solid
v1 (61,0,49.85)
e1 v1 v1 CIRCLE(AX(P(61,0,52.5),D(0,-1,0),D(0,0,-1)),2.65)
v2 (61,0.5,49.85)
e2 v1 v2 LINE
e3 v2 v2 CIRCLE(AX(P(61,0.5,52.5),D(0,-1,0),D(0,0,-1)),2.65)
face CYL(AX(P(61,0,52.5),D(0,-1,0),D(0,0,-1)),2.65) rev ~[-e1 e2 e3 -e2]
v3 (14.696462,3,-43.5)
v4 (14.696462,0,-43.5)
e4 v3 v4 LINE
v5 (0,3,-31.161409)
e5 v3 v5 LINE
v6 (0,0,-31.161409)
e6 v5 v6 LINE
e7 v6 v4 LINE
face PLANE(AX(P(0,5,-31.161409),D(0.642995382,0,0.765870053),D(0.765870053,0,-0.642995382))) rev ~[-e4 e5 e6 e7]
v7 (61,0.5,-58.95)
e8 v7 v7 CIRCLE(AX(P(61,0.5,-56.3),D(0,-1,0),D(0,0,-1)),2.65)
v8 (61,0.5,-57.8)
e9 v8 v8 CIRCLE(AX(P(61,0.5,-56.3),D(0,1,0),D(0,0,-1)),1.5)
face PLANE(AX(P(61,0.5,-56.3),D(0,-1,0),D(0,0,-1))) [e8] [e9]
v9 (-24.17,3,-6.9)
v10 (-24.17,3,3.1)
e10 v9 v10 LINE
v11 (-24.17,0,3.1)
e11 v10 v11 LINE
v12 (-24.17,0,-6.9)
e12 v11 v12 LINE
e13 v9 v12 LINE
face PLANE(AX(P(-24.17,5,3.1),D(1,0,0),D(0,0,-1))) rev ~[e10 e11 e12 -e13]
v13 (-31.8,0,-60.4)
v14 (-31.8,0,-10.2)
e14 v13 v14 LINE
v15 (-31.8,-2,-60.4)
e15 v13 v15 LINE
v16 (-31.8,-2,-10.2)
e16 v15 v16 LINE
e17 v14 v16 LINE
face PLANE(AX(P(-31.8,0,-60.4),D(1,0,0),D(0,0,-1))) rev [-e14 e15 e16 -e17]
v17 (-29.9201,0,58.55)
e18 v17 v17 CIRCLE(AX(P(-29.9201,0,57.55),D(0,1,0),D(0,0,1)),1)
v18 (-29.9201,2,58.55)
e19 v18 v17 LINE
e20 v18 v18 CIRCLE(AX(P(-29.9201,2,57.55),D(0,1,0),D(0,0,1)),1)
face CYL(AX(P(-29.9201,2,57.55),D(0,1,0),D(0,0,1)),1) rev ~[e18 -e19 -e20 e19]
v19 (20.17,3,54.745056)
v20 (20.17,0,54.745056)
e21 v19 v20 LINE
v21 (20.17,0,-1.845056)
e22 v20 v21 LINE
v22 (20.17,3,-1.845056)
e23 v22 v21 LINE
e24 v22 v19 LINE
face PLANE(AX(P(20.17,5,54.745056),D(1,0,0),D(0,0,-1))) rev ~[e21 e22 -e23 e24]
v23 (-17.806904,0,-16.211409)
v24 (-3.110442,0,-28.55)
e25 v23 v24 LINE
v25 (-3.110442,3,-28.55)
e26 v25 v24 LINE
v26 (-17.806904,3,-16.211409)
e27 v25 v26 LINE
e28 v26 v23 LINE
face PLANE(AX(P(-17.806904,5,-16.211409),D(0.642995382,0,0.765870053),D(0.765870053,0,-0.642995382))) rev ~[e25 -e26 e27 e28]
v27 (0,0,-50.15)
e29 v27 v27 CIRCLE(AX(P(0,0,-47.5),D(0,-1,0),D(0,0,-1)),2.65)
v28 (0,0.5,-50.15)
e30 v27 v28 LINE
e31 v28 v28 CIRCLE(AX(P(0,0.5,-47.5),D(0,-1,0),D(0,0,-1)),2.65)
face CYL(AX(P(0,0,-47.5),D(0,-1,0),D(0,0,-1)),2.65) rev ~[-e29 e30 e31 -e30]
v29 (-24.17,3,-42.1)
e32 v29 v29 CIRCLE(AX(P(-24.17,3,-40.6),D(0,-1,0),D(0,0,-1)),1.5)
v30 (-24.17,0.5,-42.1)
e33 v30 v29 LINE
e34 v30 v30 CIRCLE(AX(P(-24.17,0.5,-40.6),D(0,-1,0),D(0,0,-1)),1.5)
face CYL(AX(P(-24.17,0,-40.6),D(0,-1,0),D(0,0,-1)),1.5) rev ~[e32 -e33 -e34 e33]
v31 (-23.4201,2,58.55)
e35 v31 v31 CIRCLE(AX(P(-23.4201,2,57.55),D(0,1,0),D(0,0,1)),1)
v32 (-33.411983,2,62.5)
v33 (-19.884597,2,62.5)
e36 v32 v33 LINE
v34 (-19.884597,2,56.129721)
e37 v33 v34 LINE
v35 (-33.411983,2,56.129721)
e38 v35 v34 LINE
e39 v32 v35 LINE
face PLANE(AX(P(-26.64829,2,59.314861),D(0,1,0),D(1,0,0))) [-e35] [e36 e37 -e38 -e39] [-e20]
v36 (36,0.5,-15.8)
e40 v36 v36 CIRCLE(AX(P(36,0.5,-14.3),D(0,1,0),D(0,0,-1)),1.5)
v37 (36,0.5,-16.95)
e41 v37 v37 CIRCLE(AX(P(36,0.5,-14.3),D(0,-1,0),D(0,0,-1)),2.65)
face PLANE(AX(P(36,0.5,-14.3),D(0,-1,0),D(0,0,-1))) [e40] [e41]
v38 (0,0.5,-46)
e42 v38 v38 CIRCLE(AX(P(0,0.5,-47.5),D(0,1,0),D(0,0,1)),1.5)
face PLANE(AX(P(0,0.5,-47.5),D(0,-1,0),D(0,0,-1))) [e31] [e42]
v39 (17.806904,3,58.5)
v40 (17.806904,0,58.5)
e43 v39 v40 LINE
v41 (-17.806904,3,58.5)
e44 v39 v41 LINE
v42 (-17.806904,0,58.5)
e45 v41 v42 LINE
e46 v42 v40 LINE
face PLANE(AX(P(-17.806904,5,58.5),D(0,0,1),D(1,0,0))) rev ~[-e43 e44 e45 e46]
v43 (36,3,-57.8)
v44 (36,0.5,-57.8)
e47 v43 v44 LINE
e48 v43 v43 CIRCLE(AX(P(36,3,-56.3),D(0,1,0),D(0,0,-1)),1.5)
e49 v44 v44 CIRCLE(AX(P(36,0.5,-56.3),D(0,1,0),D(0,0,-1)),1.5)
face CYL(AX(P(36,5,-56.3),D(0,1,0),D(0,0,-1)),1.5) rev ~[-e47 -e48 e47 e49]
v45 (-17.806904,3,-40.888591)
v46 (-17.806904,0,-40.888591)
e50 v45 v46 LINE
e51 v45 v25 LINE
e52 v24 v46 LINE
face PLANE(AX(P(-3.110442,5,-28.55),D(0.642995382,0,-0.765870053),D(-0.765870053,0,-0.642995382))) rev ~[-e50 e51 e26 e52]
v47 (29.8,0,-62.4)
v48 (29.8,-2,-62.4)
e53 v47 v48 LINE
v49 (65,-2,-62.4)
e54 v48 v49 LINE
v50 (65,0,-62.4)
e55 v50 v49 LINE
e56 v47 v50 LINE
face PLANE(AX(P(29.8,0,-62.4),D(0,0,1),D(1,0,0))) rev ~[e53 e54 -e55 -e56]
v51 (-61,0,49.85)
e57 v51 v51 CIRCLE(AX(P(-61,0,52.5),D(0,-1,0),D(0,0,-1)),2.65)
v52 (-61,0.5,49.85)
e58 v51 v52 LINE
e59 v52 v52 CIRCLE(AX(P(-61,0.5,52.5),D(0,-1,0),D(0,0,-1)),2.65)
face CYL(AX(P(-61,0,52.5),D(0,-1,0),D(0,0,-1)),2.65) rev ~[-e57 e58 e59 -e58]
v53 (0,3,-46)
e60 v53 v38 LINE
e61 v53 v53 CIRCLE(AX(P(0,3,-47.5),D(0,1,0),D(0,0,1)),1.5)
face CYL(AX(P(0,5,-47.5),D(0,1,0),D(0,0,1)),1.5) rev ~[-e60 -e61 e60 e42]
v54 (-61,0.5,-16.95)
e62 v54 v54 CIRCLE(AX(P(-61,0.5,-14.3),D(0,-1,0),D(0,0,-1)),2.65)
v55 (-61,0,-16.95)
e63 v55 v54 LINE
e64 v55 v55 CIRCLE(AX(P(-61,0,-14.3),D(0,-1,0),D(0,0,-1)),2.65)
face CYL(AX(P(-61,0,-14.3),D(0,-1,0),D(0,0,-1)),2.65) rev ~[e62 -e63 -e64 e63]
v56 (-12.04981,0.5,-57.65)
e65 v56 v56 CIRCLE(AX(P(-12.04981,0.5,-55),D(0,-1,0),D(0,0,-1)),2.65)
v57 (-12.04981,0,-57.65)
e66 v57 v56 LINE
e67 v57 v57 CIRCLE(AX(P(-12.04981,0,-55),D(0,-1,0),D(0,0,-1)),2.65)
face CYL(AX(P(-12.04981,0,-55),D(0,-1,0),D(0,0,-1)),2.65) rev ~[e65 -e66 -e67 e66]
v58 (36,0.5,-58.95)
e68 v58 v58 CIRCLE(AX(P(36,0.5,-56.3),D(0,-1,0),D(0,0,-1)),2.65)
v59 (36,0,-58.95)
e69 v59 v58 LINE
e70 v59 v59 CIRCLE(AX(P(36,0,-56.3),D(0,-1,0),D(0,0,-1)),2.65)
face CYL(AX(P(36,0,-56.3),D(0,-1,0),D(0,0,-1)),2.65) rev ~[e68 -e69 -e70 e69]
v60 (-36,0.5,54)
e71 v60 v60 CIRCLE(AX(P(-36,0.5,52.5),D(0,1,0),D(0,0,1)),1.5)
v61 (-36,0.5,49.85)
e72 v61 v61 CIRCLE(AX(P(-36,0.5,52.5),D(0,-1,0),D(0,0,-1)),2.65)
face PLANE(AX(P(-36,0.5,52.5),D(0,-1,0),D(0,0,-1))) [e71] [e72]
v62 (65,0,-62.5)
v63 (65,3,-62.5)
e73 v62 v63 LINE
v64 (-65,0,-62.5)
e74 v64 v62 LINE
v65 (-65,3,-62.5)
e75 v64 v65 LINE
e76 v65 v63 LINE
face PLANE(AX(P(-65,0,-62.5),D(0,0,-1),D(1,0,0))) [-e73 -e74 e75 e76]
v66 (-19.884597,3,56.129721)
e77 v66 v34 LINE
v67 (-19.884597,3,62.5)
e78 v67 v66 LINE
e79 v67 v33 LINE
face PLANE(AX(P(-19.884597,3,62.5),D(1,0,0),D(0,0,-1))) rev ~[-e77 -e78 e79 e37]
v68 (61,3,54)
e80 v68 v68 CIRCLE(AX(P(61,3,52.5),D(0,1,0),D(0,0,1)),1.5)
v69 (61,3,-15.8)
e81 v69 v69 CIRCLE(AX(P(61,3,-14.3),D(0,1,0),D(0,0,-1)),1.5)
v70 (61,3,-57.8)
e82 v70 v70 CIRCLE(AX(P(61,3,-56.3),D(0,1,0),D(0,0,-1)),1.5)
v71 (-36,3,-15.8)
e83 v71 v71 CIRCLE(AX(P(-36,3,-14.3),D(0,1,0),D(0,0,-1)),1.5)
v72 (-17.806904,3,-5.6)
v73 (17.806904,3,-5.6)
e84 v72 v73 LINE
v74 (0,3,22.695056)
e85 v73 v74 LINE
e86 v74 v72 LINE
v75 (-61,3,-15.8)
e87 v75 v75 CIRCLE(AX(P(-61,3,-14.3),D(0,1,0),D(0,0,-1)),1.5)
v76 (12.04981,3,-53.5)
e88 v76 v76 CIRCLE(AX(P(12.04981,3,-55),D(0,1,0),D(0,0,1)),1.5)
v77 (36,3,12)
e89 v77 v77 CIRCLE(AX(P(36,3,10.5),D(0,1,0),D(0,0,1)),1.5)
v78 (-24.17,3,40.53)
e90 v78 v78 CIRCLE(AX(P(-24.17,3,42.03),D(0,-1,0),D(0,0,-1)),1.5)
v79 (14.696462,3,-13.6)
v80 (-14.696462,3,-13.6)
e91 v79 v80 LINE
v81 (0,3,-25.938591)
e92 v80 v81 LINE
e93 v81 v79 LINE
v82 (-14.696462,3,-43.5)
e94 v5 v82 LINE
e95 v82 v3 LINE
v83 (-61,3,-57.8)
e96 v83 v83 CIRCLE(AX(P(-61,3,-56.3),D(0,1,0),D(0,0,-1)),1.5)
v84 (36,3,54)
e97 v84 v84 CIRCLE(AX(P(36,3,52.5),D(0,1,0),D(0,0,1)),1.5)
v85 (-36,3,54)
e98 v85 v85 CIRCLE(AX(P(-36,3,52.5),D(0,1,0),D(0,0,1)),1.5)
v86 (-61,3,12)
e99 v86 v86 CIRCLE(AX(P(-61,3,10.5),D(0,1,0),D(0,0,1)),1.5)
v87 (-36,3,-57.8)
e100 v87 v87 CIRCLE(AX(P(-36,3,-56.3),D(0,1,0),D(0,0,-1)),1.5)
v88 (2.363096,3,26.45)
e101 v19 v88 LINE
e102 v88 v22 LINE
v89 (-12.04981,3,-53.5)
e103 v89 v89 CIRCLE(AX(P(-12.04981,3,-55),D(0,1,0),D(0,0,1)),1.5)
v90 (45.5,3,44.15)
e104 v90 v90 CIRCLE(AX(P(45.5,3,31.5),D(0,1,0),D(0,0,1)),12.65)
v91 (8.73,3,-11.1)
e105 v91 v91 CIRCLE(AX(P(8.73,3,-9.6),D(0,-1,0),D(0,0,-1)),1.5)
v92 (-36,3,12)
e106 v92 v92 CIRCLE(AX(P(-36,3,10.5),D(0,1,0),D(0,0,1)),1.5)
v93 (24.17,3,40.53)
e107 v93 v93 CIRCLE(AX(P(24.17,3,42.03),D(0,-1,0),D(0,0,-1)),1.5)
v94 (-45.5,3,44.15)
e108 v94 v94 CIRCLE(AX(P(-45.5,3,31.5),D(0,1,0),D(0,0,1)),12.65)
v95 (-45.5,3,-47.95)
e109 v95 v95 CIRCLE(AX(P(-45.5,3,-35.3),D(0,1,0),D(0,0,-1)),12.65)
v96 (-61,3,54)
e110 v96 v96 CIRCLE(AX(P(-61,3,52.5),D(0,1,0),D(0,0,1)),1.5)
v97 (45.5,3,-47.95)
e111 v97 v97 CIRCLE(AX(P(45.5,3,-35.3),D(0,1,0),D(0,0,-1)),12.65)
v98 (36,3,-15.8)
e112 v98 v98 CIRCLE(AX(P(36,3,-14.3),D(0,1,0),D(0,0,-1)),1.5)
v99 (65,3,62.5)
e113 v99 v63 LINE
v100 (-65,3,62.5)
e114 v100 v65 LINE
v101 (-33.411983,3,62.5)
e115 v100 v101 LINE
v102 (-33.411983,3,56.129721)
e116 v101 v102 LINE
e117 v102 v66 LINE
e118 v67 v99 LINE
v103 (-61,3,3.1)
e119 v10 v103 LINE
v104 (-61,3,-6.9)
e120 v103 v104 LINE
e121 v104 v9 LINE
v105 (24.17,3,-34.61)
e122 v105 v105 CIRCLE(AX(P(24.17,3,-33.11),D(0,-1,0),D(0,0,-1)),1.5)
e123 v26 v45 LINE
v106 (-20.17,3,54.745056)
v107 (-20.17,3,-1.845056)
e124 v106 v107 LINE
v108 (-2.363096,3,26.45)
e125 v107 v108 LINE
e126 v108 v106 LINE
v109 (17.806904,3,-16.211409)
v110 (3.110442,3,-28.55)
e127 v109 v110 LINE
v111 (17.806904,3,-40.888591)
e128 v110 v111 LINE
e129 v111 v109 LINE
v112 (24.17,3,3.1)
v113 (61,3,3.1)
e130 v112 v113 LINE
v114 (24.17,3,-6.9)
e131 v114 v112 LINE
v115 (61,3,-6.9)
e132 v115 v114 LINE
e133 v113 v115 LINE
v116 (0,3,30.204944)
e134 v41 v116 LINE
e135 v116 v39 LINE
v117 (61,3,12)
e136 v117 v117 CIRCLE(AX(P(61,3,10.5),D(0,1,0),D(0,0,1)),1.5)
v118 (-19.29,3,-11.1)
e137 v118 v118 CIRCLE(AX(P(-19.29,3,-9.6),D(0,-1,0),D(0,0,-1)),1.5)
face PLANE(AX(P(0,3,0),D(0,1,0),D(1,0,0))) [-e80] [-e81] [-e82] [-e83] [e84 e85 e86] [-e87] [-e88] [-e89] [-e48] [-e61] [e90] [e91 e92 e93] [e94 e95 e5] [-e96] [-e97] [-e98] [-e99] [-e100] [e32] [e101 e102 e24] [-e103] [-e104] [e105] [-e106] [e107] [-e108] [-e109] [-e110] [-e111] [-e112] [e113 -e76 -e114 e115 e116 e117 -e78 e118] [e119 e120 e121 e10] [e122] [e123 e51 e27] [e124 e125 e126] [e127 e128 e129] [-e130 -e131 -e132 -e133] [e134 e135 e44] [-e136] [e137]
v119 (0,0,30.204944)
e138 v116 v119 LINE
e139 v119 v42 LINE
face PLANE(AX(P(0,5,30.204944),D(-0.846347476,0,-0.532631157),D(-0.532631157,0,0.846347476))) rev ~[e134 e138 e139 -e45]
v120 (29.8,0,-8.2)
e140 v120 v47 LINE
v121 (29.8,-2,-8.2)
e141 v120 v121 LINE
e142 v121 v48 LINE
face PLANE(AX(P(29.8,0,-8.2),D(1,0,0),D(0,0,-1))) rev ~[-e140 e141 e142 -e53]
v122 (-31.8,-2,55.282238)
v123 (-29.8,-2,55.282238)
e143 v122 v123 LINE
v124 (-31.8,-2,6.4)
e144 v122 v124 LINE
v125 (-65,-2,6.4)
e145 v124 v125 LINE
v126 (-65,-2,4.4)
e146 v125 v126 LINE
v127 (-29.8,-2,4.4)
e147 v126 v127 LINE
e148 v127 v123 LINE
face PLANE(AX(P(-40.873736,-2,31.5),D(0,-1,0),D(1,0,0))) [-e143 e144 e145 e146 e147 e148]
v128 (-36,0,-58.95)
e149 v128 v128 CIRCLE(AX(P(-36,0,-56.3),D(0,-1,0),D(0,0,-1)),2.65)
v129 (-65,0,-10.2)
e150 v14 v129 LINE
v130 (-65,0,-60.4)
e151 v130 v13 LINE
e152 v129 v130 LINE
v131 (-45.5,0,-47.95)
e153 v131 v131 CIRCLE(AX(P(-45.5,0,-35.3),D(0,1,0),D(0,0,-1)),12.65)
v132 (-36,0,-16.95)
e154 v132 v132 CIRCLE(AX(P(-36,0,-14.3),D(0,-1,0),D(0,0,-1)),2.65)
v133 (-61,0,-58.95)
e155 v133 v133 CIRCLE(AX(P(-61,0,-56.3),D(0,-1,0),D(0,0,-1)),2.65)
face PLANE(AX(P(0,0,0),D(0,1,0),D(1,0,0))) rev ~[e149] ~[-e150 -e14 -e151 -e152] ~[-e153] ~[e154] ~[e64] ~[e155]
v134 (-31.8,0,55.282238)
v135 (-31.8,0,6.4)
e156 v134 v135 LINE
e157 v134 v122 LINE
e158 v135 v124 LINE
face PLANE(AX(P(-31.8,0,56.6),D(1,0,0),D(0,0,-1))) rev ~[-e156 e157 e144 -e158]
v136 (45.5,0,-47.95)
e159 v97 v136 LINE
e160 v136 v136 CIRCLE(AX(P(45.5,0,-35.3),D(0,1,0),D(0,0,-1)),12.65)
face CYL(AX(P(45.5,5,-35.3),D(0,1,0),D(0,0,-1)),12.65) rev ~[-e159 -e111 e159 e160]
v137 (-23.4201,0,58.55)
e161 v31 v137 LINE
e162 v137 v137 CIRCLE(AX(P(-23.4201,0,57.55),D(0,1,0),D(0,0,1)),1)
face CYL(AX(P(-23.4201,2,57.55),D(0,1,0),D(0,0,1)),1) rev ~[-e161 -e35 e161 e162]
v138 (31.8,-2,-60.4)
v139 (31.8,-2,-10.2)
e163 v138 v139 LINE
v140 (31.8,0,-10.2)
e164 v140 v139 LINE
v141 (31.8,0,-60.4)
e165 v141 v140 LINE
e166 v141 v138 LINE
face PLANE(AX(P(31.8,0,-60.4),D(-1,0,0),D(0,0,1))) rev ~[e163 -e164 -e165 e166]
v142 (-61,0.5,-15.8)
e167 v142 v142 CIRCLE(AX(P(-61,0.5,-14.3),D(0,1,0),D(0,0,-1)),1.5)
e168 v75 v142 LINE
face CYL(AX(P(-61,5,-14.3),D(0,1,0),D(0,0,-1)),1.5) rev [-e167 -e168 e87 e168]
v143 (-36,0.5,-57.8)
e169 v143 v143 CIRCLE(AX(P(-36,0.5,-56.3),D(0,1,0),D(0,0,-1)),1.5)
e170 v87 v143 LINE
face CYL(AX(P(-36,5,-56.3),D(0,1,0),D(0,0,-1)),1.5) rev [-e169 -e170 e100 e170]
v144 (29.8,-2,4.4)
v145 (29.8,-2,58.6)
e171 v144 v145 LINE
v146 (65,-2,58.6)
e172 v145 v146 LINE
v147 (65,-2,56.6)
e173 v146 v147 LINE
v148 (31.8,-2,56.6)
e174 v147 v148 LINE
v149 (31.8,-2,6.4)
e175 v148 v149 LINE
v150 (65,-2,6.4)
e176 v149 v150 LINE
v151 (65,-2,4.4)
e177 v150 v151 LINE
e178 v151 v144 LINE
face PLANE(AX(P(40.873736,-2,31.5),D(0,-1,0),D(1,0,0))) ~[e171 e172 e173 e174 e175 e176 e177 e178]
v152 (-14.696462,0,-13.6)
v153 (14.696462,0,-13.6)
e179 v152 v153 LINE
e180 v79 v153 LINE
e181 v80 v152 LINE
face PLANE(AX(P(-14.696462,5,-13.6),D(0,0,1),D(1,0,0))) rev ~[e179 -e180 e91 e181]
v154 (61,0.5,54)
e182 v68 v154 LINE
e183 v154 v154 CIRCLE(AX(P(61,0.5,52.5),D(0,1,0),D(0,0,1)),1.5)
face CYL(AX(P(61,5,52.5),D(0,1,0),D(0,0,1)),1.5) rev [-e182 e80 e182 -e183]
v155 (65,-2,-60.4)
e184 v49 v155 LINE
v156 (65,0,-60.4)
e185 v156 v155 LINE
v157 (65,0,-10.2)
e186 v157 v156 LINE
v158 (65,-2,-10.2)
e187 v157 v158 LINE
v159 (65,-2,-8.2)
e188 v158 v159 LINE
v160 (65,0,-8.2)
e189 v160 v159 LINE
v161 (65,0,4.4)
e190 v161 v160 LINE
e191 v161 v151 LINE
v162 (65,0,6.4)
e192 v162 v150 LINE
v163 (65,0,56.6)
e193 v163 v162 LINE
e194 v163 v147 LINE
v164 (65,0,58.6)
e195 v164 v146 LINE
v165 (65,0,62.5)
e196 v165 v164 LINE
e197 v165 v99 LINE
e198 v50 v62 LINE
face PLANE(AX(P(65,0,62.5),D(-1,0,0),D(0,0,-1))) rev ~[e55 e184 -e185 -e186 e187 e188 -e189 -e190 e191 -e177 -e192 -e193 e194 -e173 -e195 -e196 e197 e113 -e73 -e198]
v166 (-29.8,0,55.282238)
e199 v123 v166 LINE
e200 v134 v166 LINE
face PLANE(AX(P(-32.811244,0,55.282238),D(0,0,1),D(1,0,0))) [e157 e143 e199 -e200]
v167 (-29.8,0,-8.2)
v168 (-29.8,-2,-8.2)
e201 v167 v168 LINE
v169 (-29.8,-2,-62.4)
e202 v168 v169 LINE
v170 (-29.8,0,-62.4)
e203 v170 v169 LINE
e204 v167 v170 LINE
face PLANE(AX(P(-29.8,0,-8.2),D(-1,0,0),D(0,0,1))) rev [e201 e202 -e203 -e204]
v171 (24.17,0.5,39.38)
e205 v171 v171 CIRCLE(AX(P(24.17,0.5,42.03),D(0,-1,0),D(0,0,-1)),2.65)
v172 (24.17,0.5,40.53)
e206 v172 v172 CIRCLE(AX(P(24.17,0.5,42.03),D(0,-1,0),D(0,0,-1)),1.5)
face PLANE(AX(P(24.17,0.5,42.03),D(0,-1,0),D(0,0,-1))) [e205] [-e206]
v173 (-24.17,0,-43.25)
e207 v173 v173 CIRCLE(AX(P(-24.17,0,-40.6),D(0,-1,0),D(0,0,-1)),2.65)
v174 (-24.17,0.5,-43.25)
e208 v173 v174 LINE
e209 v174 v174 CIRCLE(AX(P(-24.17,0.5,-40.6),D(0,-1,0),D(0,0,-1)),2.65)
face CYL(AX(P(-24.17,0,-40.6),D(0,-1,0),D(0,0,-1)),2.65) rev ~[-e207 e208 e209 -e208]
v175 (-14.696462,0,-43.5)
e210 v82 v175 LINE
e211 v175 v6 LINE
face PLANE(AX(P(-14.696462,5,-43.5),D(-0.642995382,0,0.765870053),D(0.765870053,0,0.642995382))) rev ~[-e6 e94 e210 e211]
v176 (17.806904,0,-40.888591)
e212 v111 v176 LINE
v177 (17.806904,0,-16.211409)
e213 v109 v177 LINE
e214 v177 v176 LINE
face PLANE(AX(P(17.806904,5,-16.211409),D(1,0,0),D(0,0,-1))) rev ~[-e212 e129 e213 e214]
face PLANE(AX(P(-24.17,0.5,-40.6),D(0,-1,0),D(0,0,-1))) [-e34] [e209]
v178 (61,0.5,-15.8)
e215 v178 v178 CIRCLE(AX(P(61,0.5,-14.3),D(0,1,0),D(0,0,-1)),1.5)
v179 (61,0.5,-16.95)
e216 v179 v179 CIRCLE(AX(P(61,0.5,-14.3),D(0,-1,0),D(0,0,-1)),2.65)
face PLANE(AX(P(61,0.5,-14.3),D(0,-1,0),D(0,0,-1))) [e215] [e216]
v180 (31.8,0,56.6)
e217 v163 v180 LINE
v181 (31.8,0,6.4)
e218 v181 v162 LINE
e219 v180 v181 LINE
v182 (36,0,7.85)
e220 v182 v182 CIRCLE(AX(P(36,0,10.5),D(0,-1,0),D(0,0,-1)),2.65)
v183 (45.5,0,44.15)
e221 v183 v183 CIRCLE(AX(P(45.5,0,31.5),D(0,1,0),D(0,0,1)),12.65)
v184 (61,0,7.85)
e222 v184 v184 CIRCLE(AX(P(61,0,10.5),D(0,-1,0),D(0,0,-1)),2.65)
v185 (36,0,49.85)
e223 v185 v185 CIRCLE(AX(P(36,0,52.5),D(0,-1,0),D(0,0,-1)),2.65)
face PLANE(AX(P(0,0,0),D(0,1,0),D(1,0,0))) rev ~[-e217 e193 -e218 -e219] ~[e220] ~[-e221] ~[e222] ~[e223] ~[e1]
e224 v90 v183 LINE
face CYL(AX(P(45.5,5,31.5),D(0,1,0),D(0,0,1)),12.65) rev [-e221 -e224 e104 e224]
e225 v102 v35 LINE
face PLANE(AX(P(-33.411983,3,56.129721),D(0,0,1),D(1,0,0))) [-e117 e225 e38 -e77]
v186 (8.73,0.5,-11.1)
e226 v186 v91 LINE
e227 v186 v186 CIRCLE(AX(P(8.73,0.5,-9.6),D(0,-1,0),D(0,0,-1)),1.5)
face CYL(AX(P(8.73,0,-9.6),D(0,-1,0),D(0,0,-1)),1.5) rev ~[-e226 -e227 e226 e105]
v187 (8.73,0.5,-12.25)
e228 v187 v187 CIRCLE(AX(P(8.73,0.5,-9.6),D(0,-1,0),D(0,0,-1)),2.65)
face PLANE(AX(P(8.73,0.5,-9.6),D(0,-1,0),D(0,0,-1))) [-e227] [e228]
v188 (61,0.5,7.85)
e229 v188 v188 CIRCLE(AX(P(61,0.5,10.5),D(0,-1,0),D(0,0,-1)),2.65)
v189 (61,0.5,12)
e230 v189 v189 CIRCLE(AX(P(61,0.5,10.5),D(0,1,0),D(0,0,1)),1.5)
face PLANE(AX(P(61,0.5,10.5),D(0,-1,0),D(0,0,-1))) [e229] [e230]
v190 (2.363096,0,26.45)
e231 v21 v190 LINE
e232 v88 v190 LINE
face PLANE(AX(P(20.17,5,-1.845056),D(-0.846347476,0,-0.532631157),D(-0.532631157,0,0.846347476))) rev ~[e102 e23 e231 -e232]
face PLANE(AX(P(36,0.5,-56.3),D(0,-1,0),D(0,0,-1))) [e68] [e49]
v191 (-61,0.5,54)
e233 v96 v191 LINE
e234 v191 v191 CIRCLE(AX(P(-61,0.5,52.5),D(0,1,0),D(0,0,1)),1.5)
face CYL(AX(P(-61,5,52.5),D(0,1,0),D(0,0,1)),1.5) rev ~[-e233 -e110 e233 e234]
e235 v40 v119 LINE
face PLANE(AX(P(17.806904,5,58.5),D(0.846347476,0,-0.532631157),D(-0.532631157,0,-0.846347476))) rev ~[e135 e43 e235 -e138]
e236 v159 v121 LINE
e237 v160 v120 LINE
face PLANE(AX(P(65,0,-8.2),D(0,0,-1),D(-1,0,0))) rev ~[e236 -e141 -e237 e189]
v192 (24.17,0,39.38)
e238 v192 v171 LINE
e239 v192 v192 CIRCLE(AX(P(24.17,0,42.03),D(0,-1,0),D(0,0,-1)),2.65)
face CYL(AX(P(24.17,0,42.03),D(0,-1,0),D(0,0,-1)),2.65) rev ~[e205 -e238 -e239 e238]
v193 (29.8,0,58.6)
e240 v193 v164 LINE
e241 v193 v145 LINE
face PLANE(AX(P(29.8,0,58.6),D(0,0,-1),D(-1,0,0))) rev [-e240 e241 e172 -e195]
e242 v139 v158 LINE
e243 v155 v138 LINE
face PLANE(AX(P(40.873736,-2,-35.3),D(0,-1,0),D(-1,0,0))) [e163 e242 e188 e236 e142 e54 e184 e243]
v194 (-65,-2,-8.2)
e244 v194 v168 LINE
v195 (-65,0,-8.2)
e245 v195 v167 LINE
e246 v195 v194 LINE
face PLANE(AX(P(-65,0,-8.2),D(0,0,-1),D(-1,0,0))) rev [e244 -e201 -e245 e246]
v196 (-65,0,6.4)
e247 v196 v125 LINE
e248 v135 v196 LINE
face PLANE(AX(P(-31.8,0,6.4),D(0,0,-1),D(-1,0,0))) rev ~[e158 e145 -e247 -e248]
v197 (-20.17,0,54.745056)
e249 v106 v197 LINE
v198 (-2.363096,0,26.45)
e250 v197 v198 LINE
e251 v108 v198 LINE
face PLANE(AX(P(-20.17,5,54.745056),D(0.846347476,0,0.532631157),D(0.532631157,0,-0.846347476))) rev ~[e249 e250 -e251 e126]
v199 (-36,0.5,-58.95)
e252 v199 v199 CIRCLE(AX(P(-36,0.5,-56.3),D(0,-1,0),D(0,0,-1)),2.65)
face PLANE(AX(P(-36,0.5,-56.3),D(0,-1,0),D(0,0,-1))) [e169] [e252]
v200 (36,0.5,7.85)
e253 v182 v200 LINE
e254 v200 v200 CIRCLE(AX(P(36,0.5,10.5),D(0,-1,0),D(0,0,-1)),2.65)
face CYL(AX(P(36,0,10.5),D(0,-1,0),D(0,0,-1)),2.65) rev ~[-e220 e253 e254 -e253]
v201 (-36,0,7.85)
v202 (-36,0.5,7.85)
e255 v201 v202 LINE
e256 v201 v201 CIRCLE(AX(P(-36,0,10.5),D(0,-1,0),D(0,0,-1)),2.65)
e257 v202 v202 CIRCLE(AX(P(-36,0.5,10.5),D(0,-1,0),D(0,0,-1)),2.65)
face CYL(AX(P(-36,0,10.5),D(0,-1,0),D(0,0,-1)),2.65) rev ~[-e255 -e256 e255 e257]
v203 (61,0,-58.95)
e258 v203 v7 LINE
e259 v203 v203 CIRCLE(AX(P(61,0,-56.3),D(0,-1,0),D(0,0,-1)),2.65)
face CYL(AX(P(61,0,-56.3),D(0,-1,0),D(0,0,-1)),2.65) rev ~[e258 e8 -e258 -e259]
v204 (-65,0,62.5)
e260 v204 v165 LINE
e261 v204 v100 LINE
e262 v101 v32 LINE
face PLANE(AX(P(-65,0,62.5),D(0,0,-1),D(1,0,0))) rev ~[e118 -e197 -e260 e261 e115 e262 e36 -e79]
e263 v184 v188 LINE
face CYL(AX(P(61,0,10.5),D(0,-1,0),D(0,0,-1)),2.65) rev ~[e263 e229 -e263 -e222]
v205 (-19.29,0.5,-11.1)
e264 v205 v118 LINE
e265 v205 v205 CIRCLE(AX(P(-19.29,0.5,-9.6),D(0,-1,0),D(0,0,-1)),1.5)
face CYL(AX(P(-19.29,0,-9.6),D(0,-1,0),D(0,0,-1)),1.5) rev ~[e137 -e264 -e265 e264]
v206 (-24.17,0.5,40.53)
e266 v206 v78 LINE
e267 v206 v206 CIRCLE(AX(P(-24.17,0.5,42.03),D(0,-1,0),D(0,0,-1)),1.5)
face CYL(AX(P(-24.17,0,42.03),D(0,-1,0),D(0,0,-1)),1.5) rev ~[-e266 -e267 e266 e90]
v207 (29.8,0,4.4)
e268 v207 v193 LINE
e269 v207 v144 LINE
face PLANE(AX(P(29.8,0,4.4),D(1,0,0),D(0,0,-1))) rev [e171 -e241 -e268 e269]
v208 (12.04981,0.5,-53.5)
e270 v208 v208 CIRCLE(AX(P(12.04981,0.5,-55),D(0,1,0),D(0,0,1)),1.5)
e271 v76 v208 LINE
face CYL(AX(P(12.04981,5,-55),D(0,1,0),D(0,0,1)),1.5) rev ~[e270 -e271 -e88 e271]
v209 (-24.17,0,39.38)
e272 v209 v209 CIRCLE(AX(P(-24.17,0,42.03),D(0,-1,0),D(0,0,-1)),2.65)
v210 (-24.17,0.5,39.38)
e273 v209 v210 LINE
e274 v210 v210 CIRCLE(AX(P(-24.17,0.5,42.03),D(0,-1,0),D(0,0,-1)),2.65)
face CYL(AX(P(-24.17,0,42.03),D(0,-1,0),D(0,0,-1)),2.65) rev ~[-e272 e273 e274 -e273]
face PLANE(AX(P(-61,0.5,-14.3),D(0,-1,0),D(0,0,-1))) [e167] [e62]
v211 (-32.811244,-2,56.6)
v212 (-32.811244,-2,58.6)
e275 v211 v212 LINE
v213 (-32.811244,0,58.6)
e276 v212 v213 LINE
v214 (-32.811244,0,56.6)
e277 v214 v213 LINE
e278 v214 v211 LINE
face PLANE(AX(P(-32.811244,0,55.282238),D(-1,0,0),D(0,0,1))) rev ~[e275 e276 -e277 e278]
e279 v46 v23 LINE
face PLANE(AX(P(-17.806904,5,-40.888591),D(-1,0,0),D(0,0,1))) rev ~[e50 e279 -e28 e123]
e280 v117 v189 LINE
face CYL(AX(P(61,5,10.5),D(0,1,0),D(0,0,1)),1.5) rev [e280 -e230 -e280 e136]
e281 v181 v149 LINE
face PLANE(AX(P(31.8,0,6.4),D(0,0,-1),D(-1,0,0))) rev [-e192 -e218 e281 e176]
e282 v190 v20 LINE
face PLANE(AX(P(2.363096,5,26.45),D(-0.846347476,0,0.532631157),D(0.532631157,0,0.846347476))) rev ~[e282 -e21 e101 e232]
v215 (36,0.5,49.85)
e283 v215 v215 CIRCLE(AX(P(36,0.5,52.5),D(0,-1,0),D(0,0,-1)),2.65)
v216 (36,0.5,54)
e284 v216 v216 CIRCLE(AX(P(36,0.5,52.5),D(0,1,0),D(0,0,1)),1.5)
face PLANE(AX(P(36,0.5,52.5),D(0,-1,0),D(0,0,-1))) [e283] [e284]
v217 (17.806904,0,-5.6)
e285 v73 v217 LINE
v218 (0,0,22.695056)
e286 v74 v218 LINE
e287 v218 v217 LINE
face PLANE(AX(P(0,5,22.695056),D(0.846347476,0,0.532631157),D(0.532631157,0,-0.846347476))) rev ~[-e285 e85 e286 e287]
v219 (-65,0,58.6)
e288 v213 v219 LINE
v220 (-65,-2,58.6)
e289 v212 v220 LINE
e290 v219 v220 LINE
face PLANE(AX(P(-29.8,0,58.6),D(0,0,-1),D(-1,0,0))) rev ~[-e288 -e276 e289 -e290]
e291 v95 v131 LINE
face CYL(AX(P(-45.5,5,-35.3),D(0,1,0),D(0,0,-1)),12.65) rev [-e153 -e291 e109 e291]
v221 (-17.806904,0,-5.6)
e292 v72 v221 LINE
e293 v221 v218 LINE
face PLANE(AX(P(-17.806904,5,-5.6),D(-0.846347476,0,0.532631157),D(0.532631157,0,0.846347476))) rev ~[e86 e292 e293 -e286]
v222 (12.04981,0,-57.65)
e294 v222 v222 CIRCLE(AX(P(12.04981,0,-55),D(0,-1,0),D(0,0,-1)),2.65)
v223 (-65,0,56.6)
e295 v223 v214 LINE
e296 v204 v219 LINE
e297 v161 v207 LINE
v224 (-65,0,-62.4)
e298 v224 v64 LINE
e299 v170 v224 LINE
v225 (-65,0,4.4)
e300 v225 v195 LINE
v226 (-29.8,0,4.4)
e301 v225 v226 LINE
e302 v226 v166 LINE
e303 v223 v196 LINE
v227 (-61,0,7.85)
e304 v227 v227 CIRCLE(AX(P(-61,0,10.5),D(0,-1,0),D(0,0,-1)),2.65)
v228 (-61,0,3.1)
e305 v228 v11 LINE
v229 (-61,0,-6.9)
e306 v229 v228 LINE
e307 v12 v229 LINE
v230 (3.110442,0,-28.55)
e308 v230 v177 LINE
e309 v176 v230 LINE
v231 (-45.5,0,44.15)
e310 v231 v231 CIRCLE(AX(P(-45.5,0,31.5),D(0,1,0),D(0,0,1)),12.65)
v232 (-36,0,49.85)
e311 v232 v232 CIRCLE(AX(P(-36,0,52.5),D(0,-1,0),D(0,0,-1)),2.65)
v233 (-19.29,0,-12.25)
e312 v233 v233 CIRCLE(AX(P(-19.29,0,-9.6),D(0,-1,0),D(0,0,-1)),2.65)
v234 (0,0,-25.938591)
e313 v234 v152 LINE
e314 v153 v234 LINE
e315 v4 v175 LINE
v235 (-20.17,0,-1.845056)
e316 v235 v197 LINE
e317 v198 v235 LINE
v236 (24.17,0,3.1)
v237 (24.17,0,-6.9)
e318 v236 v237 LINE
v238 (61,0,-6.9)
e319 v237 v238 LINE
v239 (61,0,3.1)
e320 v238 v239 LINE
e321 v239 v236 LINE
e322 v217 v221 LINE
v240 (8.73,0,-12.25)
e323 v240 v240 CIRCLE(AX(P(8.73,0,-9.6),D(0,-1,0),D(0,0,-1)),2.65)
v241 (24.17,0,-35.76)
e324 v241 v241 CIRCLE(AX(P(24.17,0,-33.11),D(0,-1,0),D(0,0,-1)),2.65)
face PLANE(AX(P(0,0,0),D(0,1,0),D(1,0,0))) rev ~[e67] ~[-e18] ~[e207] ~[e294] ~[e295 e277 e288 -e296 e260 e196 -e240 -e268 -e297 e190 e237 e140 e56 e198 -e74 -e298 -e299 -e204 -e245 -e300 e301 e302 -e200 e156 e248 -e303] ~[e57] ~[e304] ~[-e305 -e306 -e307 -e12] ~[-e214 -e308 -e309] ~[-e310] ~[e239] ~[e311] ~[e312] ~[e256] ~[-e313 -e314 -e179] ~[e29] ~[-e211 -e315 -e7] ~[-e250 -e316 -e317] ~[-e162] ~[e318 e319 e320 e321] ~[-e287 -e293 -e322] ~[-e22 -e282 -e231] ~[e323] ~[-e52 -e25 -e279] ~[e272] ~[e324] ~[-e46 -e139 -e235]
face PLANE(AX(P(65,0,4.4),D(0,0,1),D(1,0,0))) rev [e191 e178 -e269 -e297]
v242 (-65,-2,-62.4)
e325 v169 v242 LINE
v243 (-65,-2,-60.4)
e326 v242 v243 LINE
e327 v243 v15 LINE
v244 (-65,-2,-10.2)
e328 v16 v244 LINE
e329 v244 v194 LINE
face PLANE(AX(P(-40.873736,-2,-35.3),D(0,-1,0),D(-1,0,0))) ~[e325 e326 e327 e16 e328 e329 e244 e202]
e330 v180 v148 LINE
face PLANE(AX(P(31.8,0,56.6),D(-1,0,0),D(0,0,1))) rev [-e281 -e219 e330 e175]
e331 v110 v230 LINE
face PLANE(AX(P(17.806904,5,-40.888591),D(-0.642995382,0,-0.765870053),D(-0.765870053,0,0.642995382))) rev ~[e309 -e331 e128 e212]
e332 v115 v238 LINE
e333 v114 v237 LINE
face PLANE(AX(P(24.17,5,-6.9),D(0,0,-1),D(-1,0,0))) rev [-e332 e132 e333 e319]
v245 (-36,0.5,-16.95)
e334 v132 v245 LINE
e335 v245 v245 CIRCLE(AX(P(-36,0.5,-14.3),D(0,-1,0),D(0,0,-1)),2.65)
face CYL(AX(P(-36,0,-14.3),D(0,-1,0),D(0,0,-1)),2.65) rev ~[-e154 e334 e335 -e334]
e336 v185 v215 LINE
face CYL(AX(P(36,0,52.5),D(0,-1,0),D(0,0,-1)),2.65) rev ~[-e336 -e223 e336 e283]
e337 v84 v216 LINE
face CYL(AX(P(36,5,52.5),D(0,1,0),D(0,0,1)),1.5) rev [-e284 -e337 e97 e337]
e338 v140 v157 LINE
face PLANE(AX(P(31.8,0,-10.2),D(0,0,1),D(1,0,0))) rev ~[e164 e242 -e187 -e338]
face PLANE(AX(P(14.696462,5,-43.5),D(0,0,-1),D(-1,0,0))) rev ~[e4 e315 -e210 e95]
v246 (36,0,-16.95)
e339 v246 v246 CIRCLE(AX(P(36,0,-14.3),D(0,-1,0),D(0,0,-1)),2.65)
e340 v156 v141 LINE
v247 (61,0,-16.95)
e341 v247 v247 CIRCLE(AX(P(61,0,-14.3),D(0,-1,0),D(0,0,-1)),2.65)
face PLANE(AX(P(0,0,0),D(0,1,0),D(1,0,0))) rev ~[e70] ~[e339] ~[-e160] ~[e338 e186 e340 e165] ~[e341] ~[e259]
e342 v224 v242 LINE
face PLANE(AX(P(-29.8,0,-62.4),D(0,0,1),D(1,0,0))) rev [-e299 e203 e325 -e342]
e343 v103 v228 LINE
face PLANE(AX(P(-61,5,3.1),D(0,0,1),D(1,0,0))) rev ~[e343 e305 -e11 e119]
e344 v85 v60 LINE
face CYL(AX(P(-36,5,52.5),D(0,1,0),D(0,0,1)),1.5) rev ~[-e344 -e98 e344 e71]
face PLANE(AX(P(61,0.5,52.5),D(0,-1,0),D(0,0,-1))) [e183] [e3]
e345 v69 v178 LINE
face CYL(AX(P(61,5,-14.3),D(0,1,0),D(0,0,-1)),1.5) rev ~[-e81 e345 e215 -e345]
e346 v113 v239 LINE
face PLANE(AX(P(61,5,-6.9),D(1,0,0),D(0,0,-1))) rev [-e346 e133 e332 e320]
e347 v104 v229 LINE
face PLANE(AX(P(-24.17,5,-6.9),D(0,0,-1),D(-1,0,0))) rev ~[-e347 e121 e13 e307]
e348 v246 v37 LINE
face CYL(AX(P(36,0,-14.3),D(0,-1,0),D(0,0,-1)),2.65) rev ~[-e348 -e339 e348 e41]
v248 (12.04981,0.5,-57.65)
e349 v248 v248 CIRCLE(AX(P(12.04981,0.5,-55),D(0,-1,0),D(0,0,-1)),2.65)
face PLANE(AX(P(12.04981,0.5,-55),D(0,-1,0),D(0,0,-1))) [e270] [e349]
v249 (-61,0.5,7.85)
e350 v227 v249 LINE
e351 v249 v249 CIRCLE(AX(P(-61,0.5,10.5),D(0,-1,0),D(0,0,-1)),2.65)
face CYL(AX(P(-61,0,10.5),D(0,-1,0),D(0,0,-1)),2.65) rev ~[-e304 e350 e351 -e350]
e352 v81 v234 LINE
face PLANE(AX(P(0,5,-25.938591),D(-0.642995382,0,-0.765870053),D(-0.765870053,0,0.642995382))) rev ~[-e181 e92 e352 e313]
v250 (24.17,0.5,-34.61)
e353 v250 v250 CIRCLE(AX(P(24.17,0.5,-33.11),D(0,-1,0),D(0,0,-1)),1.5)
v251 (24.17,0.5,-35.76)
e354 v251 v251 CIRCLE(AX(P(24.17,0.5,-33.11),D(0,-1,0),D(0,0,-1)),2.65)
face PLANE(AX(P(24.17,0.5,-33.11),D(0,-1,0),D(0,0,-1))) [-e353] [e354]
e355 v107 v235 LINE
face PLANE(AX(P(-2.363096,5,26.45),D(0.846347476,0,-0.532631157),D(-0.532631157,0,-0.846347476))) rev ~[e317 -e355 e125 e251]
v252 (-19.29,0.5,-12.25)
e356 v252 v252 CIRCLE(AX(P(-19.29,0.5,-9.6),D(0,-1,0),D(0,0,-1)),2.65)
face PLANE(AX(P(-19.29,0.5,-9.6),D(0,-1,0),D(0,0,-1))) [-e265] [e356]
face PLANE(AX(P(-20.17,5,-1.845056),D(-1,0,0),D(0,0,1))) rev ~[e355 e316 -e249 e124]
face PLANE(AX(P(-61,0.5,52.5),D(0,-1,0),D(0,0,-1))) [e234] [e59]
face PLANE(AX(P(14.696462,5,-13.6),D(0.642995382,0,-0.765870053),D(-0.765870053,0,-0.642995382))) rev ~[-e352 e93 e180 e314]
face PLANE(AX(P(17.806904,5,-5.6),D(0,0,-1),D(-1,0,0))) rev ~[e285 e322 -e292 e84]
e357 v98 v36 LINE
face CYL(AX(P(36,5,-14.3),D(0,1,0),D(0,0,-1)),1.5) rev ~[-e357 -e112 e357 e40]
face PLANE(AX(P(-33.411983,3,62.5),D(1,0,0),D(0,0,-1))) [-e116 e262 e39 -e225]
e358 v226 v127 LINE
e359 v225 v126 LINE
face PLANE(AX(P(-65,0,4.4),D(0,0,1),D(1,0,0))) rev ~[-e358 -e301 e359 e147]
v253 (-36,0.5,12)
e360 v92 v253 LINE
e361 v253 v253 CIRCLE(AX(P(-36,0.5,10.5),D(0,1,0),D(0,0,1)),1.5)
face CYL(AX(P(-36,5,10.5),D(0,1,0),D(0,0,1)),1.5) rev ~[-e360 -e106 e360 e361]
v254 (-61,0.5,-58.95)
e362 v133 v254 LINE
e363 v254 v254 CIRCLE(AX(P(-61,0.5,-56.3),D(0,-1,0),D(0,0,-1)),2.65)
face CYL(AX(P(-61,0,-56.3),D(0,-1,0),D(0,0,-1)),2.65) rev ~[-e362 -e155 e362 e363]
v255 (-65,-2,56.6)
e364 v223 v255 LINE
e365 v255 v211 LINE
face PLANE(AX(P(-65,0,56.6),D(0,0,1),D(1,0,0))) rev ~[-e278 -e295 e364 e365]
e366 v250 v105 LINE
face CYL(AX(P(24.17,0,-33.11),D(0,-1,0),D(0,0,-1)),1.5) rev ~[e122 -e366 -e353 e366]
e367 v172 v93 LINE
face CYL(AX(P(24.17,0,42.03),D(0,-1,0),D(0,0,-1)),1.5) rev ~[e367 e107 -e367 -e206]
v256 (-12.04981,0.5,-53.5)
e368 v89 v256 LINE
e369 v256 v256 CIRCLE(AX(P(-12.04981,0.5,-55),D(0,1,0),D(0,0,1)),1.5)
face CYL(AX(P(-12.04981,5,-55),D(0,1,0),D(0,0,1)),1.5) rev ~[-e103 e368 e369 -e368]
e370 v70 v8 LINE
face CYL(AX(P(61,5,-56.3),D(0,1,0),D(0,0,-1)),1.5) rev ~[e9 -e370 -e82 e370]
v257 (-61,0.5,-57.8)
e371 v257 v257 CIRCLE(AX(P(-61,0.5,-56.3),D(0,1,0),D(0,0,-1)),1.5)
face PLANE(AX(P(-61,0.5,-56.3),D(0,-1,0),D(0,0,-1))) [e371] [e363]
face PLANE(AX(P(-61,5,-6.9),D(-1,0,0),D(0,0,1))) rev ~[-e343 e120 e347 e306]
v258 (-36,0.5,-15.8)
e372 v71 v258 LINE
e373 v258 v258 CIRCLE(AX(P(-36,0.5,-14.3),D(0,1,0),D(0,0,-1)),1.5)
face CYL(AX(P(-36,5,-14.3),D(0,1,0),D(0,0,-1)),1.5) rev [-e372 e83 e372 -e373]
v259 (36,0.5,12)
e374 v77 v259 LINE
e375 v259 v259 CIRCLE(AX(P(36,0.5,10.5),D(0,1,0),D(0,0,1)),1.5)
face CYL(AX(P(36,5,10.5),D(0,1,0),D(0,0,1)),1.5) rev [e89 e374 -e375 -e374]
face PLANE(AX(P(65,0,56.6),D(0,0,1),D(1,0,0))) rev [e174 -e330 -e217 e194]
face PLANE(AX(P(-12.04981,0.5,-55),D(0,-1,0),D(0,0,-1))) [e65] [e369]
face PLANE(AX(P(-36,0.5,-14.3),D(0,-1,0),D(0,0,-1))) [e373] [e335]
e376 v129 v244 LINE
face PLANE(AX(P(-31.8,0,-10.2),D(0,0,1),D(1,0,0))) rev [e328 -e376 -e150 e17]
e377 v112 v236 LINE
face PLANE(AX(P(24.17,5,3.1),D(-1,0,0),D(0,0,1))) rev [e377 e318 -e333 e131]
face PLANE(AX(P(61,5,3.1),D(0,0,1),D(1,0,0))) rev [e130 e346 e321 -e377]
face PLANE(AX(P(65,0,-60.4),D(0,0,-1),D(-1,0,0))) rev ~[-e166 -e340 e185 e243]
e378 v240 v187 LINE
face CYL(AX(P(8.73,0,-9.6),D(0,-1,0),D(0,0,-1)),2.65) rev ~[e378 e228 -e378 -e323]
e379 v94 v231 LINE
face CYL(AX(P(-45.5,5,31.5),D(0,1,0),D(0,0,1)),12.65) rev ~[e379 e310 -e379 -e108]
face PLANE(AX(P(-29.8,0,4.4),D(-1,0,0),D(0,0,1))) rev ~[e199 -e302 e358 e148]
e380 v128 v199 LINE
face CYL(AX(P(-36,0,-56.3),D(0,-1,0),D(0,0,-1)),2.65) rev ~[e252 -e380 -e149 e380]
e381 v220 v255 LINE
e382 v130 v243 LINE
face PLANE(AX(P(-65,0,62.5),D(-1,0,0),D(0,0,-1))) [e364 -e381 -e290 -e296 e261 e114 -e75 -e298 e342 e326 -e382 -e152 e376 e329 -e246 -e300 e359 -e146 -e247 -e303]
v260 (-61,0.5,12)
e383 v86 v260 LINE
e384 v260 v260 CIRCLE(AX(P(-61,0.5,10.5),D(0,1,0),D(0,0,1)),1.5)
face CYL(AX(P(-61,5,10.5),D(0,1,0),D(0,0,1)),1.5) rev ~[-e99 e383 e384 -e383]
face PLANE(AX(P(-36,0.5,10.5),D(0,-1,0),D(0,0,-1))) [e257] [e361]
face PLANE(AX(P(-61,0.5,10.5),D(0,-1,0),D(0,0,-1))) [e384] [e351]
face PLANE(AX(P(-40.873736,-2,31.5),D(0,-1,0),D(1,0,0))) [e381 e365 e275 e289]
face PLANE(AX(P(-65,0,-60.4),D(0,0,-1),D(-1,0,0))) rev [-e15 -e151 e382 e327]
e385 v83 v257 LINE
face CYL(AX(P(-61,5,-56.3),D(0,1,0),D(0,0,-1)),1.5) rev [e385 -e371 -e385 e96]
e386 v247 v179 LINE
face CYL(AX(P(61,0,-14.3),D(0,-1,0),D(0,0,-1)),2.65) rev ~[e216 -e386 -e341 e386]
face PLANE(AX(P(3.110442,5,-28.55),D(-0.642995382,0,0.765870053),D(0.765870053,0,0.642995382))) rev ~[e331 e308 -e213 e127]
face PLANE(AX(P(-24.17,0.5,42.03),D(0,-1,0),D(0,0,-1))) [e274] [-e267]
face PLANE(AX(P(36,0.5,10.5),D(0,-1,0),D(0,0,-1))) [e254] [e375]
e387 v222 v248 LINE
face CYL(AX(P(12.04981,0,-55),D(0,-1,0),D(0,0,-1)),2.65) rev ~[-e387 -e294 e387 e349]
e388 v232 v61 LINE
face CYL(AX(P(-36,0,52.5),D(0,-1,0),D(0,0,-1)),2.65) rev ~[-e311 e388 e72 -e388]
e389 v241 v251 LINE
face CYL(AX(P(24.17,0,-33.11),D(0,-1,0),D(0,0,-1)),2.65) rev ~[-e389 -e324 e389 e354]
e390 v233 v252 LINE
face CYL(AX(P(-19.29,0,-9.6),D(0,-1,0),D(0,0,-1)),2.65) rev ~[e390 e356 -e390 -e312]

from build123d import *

# Parameters (mm, degrees)
SKETCH1_W                 = 130
SKETCH1_H                 = 125
BOSS_EXTRUDE1_DEPTH       = 5
SKETCH2_R                 = 1.5
SKETCH2_R_2               = 12.65
CUT_EXTRUDE1_DEPTH        = 10
SKETCH4_R                 = 1.5
CUT_EXTRUDE3_DEPTH        = 10
BOSS_EXTRUDE2_DEPTH       = 2
MIRROR7_COPY_1_SKETCH_R   = 1.5
MIRROR7_COPY_1_SKETCH_R_2 = 12.65
MIRROR7_COPY_1_DEPTH      = 10
MIRROR7_COPY_2_DEPTH      = 2
SKETCH10_R                = 1.5
CUT_EXTRUDE8_DEPTH        = 91.311959341
SKETCH11_R                = 2.65
CUT_EXTRUDE9_DEPTH        = 0.5
CUT_EXTRUDE10_DEPTH       = 91.444734507
CUT_EXTRUDE11_DEPTH       = 91.444734507
CUT_EXTRUDE12_DEPTH       = 91.444734507
SKETCH15_W                = 130
SKETCH15_H                = 125
SKETCH15_W_2              = 5
SKETCH15_H_2              = 5
CUT_EXTRUDE14_DEPTH       = 2
CUT_EXTRUDE15_START       = -8
SKETCH17_W                = 137.629855092
SKETCH17_H                = 131.076052468
CUT_EXTRUDE15_DEPTH       = 2
SKETCH18_W                = 13.527386212
SKETCH18_H                = 6.370278614
CUT_EXTRUDE16_DEPTH       = 1
SKETCH19_R                = 1
CUT_EXTRUDE17_DEPTH       = 5
SKETCH20_W                = 6.657761804
SKETCH20_H                = 4.4233075
CUT_EXTRUDE18_DEPTH       = 2


with BuildPart() as part:
    # Sketch1 → Boss-Extrude1 (new body)
    with BuildSketch(Plane(origin=(0, 0, 0), x_dir=(1, 0, 0), z_dir=(0, 1, 0))):
        Rectangle(SKETCH1_W, SKETCH1_H)
    extrude(amount=BOSS_EXTRUDE1_DEPTH)

    # Sketch2 → Cut-Extrude1 (cut)
    with BuildSketch(Plane(origin=(0, 5, 0), x_dir=(1, 0, 0), z_dir=(0, 1, 0))):
        with Locations(Location((-61, -52.5, 0), (0, 0, 270))):
            Circle(SKETCH2_R)
        with Locations(Location((-36, -52.5, 0), (0, 0, 270))):
            Circle(SKETCH2_R)
        with Locations(Location((-36, -10.5, 0), (0, 0, 270))):
            Circle(SKETCH2_R)
        with Locations(Location((-61, -10.5, 0), (0, 0, 270))):
            Circle(SKETCH2_R)
        with Locations(Location((-45.5, -31.5, 0), (0, 0, 270))):
            Circle(SKETCH2_R_2)
    cut_extrude1 = extrude(amount=-CUT_EXTRUDE1_DEPTH, mode=Mode.SUBTRACT)

    # Mirror3: Cut-Extrude1 across plane
    add(cut_extrude1.mirror(Plane.ZY), mode=Mode.SUBTRACT)

    # Sketch4 → Cut-Extrude3 (cut)
    with BuildSketch(Plane(origin=(0, 5, 0), x_dir=(1, 0, 0), z_dir=(0, 1, 0))):
        with Locations(Location((0, 47.5, 0), (0, 0, 270))):
            Circle(SKETCH4_R)
        with Locations(Location((12.049810205, 55, 0), (0, 0, 270))):
            Circle(SKETCH4_R)
        with Locations(Location((-12.049810205, 55, 0), (0, 0, 270))):
            Circle(SKETCH4_R)
    extrude(amount=-CUT_EXTRUDE3_DEPTH, mode=Mode.SUBTRACT)

    # Sketch5 → Boss-Extrude2 (add)
    with BuildSketch(Plane.XZ):
        Polygon((-65, 58.6), (-65, 56.6), (-31.8, 56.6), (-31.8, 6.4), (-65, 6.4), (-65, 4.4), (-29.8, 4.4), (-29.8, 58.6), align=None)
    boss_extrude2 = extrude(amount=BOSS_EXTRUDE2_DEPTH)

    # Mirror5: Boss-Extrude2 across plane
    add(boss_extrude2.mirror(Plane.ZY))

    # Mirror7: Cut-Extrude1, Boss-Extrude2 across plane
    add(cut_extrude1.mirror(Plane.XY.offset(-1.9)), mode=Mode.SUBTRACT)
    add(boss_extrude2.mirror(Plane.XY.offset(-1.9)))

    # Mirror7 copy 1 sketch → Mirror7 copy 1 (cut)
    with BuildSketch(Plane(origin=(0, 5, -3.8), x_dir=(-1, 0, 0), z_dir=(0, 1, 0))):
        with Locations(Location((-61, -52.5, 0), (0, 0, 270))):
            Circle(MIRROR7_COPY_1_SKETCH_R)
        with Locations(Location((-36, -52.5, 0), (0, 0, 270))):
            Circle(MIRROR7_COPY_1_SKETCH_R)
        with Locations(Location((-36, -10.5, 0), (0, 0, 270))):
            Circle(MIRROR7_COPY_1_SKETCH_R)
        with Locations(Location((-61, -10.5, 0), (0, 0, 270))):
            Circle(MIRROR7_COPY_1_SKETCH_R)
        with Locations(Location((-45.5, -31.5, 0), (0, 0, 270))):
            Circle(MIRROR7_COPY_1_SKETCH_R_2)
    extrude(amount=-MIRROR7_COPY_1_DEPTH, mode=Mode.SUBTRACT)

    # Mirror7 copy 2 sketch → Mirror7 copy 2 (add)
    with BuildSketch(Plane(origin=(0, 0, -3.8), x_dir=(-1, 0, 0), z_dir=(0, -1, 0))):
        Polygon((-65, 58.6), (-65, 56.6), (-31.8, 56.6), (-31.8, 6.4), (-65, 6.4), (-65, 4.4), (-29.8, 4.4), (-29.8, 58.6), align=None)
    extrude(amount=MIRROR7_COPY_2_DEPTH)

    # Sketch10 → Cut-Extrude8 (cut, through all)
    with BuildSketch(Plane(origin=(0, 0, 0), x_dir=(-1, 0, 0), z_dir=(0, -1, 0))):
        with Locations(Location((-24.17, -42.03, 0), (0, 0, 90))):
            Circle(SKETCH10_R)
        with Locations(Location((24.17, -42.03, 0), (0, 0, 90))):
            Circle(SKETCH10_R)
        with Locations(Location((-8.73, 9.6, 0), (0, 0, 90))):
            Circle(SKETCH10_R)
        with Locations(Location((19.29, 9.6, 0), (0, 0, 90))):
            Circle(SKETCH10_R)
        with Locations(Location((-24.17, 33.11, 0), (0, 0, 90))):
            Circle(SKETCH10_R)
        with Locations(Location((24.17, 40.6, 0), (0, 0, 90))):
            Circle(SKETCH10_R)
    extrude(amount=-CUT_EXTRUDE8_DEPTH, mode=Mode.SUBTRACT)

    # Sketch11 → Cut-Extrude9 (cut)
    with BuildSketch(Plane.XZ):
        with Locations(Location((-12.049810205, -55, 0), (0, 0, 270))):
            Circle(SKETCH11_R)
        with Locations(Location((0, -47.5, 0), (0, 0, 270))):
            Circle(SKETCH11_R)
        with Locations(Location((12.049810205, -55, 0), (0, 0, 270))):
            Circle(SKETCH11_R)
        with Locations(Location((-24.17, -40.6, 0), (0, 0, 270))):
            Circle(SKETCH11_R)
        with Locations(Location((24.17, -33.11, 0), (0, 0, 270))):
            Circle(SKETCH11_R)
        with Locations(Location((8.73, -9.6, 0), (0, 0, 270))):
            Circle(SKETCH11_R)
        with Locations(Location((-19.29, -9.6, 0), (0, 0, 270))):
            Circle(SKETCH11_R)
        with Locations(Location((-24.17, 42.03, 0), (0, 0, 270))):
            Circle(SKETCH11_R)
        with Locations(Location((24.17, 42.03, 0), (0, 0, 270))):
            Circle(SKETCH11_R)
        with Locations(Location((-61, -14.3, 0), (0, 0, 270))):
            Circle(SKETCH11_R)
        with Locations(Location((-36, -14.3, 0), (0, 0, 270))):
            Circle(SKETCH11_R)
        with Locations(Location((-61, -56.3, 0), (0, 0, 270))):
            Circle(SKETCH11_R)
        with Locations(Location((-36, -56.3, 0), (0, 0, 270))):
            Circle(SKETCH11_R)
        with Locations(Location((36, -56.3, 0), (0, 0, 270))):
            Circle(SKETCH11_R)
        with Locations(Location((61, -56.3, 0), (0, 0, 270))):
            Circle(SKETCH11_R)
        with Locations(Location((36, -14.3, 0), (0, 0, 270))):
            Circle(SKETCH11_R)
        with Locations(Location((61, -14.3, 0), (0, 0, 270))):
            Circle(SKETCH11_R)
        with Locations(Location((36, 10.5, 0), (0, 0, 270))):
            Circle(SKETCH11_R)
        with Locations(Location((61, 10.5, 0), (0, 0, 270))):
            Circle(SKETCH11_R)
        with Locations(Location((61, 52.5, 0), (0, 0, 270))):
            Circle(SKETCH11_R)
        with Locations(Location((36, 52.5, 0), (0, 0, 270))):
            Circle(SKETCH11_R)
        with Locations(Location((-36, 52.5, 0), (0, 0, 270))):
            Circle(SKETCH11_R)
        with Locations(Location((-36, 10.5, 0), (0, 0, 270))):
            Circle(SKETCH11_R)
        with Locations(Location((-61, 10.5, 0), (0, 0, 270))):
            Circle(SKETCH11_R)
        with Locations(Location((-61, 52.5, 0), (0, 0, 270))):
            Circle(SKETCH11_R)
    extrude(amount=-CUT_EXTRUDE9_DEPTH, mode=Mode.SUBTRACT)

    # Sketch12 → Cut-Extrude10 (cut, through all)
    with BuildSketch(Plane(origin=(0, 5, 0), x_dir=(1, 0, 0), z_dir=(0, 1, 0))):
        Polygon((-2.363095604, -26.45), (-20.17, 1.845056316), (-20.17, -54.745056316), align=None)
        Polygon((17.806904396, 5.6), (-17.806904396, 5.6), (0, -22.695056316), align=None)
        Polygon((20.17, -54.745056316), (20.17, 1.845056316), (2.363095604, -26.45), align=None)
        Polygon((0, -30.204943684), (-17.806904396, -58.5), (17.806904396, -58.5), align=None)
    extrude(amount=-CUT_EXTRUDE10_DEPTH, mode=Mode.SUBTRACT)

    # Sketch13 → Cut-Extrude11 (cut, through all)
    with BuildSketch(Plane(origin=(0, 5, 0), x_dir=(1, 0, 0), z_dir=(0, 1, 0))):
        Polygon((-61, 1.9), (-61, -3.1), (-24.17, -3.1), (-24.17, 6.9), (-61, 6.9), align=None)
    cut_extrude11 = extrude(amount=-CUT_EXTRUDE11_DEPTH, mode=Mode.SUBTRACT)

    # Mirror9: Cut-Extrude11 across plane
    add(cut_extrude11.mirror(Plane.ZY), mode=Mode.SUBTRACT)

    # Sketch14 → Cut-Extrude12 (cut, through all)
    with BuildSketch(Plane(origin=(0, 5, 0), x_dir=(1, 0, 0), z_dir=(0, 1, 0))):
        Polygon((-3.110442245, 28.55), (-17.806904396, 40.888590935), (-17.806904396, 16.211409065), align=None)
        Polygon((14.696462151, 43.5), (-14.696462151, 43.5), (0, 31.161409065), align=None)
        Polygon((17.806904396, 16.211409065), (17.806904396, 40.888590935), (3.110442245, 28.55), align=None)
        Polygon((0, 25.938590935), (-14.696462151, 13.6), (14.696462151, 13.6), align=None)
    extrude(amount=-CUT_EXTRUDE12_DEPTH, mode=Mode.SUBTRACT)

    # Sketch15 → Cut-Extrude14 (cut)
    with BuildSketch(Plane(origin=(0, 5, 0), x_dir=(1, 0, 0), z_dir=(0, 1, 0))):
        Rectangle(SKETCH15_W, SKETCH15_H)
        with Locations((-61, 56.3)):
            Rectangle(SKETCH15_W_2, SKETCH15_H_2, mode=Mode.SUBTRACT)
        with Locations((-36, 56.3)):
            Rectangle(SKETCH15_W_2, SKETCH15_H_2, mode=Mode.SUBTRACT)
        with Locations((-12.049810205, 55)):
            Rectangle(SKETCH15_W_2, SKETCH15_H_2, mode=Mode.SUBTRACT)
        with Locations((0, 47.5)):
            Rectangle(SKETCH15_W_2, SKETCH15_H_2, mode=Mode.SUBTRACT)
        with Locations((12.049810205, 55)):
            Rectangle(SKETCH15_W_2, SKETCH15_H_2, mode=Mode.SUBTRACT)
        with Locations((36, 56.3)):
            Rectangle(SKETCH15_W_2, SKETCH15_H_2, mode=Mode.SUBTRACT)
        with Locations((61, 56.3)):
            Rectangle(SKETCH15_W_2, SKETCH15_H_2, mode=Mode.SUBTRACT)
        with Locations((36, 14.3)):
            Rectangle(SKETCH15_W_2, SKETCH15_H_2, mode=Mode.SUBTRACT)
        with Locations((61, 14.3)):
            Rectangle(SKETCH15_W_2, SKETCH15_H_2, mode=Mode.SUBTRACT)
        with Locations((24.17, 33.11)):
            Rectangle(SKETCH15_W_2, SKETCH15_H_2, mode=Mode.SUBTRACT)
        with Locations((36, -10.5)):
            Rectangle(SKETCH15_W_2, SKETCH15_H_2, mode=Mode.SUBTRACT)
        with Locations((61, -10.5)):
            Rectangle(SKETCH15_W_2, SKETCH15_H_2, mode=Mode.SUBTRACT)
        with Locations((24.17, -42.03)):
            Rectangle(SKETCH15_W_2, SKETCH15_H_2, mode=Mode.SUBTRACT)
        with Locations((36, -52.5)):
            Rectangle(SKETCH15_W_2, SKETCH15_H_2, mode=Mode.SUBTRACT)
        with Locations((61, -52.5)):
            Rectangle(SKETCH15_W_2, SKETCH15_H_2, mode=Mode.SUBTRACT)
        with Locations((-24.17, -42.03)):
            Rectangle(SKETCH15_W_2, SKETCH15_H_2, mode=Mode.SUBTRACT)
        with Locations((-36, -52.5)):
            Rectangle(SKETCH15_W_2, SKETCH15_H_2, mode=Mode.SUBTRACT)
        with Locations((-36, -10.5)):
            Rectangle(SKETCH15_W_2, SKETCH15_H_2, mode=Mode.SUBTRACT)
        with Locations((8.73, 9.6)):
            Rectangle(SKETCH15_W_2, SKETCH15_H_2, mode=Mode.SUBTRACT)
        with Locations((-19.29, 9.6)):
            Rectangle(SKETCH15_W_2, SKETCH15_H_2, mode=Mode.SUBTRACT)
        with Locations((-24.17, 40.6)):
            Rectangle(SKETCH15_W_2, SKETCH15_H_2, mode=Mode.SUBTRACT)
        with Locations((-61, 14.3)):
            Rectangle(SKETCH15_W_2, SKETCH15_H_2, mode=Mode.SUBTRACT)
        with Locations((-36, 14.3)):
            Rectangle(SKETCH15_W_2, SKETCH15_H_2, mode=Mode.SUBTRACT)
        with Locations((-61, -10.5)):
            Rectangle(SKETCH15_W_2, SKETCH15_H_2, mode=Mode.SUBTRACT)
        with Locations((-61, -52.5)):
            Rectangle(SKETCH15_W_2, SKETCH15_H_2, mode=Mode.SUBTRACT)
    extrude(amount=-CUT_EXTRUDE14_DEPTH, mode=Mode.SUBTRACT)

    # Sketch17 → Cut-Extrude15 (cut)
    with BuildSketch(Plane(origin=(0, 13, 0), x_dir=(1, 0, 0), z_dir=(0, 1, 0)).offset(CUT_EXTRUDE15_START)):
        with Locations((0.756207995, -1.260346658)):
            Rectangle(SKETCH17_W, SKETCH17_H)
    extrude(amount=-CUT_EXTRUDE15_DEPTH, mode=Mode.SUBTRACT)

    # Sketch18 → Cut-Extrude16 (cut)
    with BuildSketch(Plane(origin=(0, 3, 0), x_dir=(1, 0, 0), z_dir=(0, 1, 0))):
        with Locations((-26.648289701, -59.314860693)):
            Rectangle(SKETCH18_W, SKETCH18_H)
    extrude(amount=-CUT_EXTRUDE16_DEPTH, mode=Mode.SUBTRACT)

    # Sketch19 → Cut-Extrude17 (cut)
    with BuildSketch(Plane(origin=(0, 2, 0), x_dir=(1, 0, 0), z_dir=(0, 1, 0))):
        with Locations(Location((-23.4201, -57.55, 0), (0, 0, 270))):
            Circle(SKETCH19_R)
        with Locations(Location((-29.9201, -57.55, 0), (0, 0, 270))):
            Circle(SKETCH19_R)
    extrude(amount=-CUT_EXTRUDE17_DEPTH, mode=Mode.SUBTRACT)

    # Sketch20 → Cut-Extrude18 (cut)
    with BuildSketch(Plane.XZ):
        with Locations((-29.482363252, 57.493891291)):
            Rectangle(SKETCH20_W, SKETCH20_H)
    extrude(amount=CUT_EXTRUDE18_DEPTH, mode=Mode.SUBTRACT)


solid = part.part
